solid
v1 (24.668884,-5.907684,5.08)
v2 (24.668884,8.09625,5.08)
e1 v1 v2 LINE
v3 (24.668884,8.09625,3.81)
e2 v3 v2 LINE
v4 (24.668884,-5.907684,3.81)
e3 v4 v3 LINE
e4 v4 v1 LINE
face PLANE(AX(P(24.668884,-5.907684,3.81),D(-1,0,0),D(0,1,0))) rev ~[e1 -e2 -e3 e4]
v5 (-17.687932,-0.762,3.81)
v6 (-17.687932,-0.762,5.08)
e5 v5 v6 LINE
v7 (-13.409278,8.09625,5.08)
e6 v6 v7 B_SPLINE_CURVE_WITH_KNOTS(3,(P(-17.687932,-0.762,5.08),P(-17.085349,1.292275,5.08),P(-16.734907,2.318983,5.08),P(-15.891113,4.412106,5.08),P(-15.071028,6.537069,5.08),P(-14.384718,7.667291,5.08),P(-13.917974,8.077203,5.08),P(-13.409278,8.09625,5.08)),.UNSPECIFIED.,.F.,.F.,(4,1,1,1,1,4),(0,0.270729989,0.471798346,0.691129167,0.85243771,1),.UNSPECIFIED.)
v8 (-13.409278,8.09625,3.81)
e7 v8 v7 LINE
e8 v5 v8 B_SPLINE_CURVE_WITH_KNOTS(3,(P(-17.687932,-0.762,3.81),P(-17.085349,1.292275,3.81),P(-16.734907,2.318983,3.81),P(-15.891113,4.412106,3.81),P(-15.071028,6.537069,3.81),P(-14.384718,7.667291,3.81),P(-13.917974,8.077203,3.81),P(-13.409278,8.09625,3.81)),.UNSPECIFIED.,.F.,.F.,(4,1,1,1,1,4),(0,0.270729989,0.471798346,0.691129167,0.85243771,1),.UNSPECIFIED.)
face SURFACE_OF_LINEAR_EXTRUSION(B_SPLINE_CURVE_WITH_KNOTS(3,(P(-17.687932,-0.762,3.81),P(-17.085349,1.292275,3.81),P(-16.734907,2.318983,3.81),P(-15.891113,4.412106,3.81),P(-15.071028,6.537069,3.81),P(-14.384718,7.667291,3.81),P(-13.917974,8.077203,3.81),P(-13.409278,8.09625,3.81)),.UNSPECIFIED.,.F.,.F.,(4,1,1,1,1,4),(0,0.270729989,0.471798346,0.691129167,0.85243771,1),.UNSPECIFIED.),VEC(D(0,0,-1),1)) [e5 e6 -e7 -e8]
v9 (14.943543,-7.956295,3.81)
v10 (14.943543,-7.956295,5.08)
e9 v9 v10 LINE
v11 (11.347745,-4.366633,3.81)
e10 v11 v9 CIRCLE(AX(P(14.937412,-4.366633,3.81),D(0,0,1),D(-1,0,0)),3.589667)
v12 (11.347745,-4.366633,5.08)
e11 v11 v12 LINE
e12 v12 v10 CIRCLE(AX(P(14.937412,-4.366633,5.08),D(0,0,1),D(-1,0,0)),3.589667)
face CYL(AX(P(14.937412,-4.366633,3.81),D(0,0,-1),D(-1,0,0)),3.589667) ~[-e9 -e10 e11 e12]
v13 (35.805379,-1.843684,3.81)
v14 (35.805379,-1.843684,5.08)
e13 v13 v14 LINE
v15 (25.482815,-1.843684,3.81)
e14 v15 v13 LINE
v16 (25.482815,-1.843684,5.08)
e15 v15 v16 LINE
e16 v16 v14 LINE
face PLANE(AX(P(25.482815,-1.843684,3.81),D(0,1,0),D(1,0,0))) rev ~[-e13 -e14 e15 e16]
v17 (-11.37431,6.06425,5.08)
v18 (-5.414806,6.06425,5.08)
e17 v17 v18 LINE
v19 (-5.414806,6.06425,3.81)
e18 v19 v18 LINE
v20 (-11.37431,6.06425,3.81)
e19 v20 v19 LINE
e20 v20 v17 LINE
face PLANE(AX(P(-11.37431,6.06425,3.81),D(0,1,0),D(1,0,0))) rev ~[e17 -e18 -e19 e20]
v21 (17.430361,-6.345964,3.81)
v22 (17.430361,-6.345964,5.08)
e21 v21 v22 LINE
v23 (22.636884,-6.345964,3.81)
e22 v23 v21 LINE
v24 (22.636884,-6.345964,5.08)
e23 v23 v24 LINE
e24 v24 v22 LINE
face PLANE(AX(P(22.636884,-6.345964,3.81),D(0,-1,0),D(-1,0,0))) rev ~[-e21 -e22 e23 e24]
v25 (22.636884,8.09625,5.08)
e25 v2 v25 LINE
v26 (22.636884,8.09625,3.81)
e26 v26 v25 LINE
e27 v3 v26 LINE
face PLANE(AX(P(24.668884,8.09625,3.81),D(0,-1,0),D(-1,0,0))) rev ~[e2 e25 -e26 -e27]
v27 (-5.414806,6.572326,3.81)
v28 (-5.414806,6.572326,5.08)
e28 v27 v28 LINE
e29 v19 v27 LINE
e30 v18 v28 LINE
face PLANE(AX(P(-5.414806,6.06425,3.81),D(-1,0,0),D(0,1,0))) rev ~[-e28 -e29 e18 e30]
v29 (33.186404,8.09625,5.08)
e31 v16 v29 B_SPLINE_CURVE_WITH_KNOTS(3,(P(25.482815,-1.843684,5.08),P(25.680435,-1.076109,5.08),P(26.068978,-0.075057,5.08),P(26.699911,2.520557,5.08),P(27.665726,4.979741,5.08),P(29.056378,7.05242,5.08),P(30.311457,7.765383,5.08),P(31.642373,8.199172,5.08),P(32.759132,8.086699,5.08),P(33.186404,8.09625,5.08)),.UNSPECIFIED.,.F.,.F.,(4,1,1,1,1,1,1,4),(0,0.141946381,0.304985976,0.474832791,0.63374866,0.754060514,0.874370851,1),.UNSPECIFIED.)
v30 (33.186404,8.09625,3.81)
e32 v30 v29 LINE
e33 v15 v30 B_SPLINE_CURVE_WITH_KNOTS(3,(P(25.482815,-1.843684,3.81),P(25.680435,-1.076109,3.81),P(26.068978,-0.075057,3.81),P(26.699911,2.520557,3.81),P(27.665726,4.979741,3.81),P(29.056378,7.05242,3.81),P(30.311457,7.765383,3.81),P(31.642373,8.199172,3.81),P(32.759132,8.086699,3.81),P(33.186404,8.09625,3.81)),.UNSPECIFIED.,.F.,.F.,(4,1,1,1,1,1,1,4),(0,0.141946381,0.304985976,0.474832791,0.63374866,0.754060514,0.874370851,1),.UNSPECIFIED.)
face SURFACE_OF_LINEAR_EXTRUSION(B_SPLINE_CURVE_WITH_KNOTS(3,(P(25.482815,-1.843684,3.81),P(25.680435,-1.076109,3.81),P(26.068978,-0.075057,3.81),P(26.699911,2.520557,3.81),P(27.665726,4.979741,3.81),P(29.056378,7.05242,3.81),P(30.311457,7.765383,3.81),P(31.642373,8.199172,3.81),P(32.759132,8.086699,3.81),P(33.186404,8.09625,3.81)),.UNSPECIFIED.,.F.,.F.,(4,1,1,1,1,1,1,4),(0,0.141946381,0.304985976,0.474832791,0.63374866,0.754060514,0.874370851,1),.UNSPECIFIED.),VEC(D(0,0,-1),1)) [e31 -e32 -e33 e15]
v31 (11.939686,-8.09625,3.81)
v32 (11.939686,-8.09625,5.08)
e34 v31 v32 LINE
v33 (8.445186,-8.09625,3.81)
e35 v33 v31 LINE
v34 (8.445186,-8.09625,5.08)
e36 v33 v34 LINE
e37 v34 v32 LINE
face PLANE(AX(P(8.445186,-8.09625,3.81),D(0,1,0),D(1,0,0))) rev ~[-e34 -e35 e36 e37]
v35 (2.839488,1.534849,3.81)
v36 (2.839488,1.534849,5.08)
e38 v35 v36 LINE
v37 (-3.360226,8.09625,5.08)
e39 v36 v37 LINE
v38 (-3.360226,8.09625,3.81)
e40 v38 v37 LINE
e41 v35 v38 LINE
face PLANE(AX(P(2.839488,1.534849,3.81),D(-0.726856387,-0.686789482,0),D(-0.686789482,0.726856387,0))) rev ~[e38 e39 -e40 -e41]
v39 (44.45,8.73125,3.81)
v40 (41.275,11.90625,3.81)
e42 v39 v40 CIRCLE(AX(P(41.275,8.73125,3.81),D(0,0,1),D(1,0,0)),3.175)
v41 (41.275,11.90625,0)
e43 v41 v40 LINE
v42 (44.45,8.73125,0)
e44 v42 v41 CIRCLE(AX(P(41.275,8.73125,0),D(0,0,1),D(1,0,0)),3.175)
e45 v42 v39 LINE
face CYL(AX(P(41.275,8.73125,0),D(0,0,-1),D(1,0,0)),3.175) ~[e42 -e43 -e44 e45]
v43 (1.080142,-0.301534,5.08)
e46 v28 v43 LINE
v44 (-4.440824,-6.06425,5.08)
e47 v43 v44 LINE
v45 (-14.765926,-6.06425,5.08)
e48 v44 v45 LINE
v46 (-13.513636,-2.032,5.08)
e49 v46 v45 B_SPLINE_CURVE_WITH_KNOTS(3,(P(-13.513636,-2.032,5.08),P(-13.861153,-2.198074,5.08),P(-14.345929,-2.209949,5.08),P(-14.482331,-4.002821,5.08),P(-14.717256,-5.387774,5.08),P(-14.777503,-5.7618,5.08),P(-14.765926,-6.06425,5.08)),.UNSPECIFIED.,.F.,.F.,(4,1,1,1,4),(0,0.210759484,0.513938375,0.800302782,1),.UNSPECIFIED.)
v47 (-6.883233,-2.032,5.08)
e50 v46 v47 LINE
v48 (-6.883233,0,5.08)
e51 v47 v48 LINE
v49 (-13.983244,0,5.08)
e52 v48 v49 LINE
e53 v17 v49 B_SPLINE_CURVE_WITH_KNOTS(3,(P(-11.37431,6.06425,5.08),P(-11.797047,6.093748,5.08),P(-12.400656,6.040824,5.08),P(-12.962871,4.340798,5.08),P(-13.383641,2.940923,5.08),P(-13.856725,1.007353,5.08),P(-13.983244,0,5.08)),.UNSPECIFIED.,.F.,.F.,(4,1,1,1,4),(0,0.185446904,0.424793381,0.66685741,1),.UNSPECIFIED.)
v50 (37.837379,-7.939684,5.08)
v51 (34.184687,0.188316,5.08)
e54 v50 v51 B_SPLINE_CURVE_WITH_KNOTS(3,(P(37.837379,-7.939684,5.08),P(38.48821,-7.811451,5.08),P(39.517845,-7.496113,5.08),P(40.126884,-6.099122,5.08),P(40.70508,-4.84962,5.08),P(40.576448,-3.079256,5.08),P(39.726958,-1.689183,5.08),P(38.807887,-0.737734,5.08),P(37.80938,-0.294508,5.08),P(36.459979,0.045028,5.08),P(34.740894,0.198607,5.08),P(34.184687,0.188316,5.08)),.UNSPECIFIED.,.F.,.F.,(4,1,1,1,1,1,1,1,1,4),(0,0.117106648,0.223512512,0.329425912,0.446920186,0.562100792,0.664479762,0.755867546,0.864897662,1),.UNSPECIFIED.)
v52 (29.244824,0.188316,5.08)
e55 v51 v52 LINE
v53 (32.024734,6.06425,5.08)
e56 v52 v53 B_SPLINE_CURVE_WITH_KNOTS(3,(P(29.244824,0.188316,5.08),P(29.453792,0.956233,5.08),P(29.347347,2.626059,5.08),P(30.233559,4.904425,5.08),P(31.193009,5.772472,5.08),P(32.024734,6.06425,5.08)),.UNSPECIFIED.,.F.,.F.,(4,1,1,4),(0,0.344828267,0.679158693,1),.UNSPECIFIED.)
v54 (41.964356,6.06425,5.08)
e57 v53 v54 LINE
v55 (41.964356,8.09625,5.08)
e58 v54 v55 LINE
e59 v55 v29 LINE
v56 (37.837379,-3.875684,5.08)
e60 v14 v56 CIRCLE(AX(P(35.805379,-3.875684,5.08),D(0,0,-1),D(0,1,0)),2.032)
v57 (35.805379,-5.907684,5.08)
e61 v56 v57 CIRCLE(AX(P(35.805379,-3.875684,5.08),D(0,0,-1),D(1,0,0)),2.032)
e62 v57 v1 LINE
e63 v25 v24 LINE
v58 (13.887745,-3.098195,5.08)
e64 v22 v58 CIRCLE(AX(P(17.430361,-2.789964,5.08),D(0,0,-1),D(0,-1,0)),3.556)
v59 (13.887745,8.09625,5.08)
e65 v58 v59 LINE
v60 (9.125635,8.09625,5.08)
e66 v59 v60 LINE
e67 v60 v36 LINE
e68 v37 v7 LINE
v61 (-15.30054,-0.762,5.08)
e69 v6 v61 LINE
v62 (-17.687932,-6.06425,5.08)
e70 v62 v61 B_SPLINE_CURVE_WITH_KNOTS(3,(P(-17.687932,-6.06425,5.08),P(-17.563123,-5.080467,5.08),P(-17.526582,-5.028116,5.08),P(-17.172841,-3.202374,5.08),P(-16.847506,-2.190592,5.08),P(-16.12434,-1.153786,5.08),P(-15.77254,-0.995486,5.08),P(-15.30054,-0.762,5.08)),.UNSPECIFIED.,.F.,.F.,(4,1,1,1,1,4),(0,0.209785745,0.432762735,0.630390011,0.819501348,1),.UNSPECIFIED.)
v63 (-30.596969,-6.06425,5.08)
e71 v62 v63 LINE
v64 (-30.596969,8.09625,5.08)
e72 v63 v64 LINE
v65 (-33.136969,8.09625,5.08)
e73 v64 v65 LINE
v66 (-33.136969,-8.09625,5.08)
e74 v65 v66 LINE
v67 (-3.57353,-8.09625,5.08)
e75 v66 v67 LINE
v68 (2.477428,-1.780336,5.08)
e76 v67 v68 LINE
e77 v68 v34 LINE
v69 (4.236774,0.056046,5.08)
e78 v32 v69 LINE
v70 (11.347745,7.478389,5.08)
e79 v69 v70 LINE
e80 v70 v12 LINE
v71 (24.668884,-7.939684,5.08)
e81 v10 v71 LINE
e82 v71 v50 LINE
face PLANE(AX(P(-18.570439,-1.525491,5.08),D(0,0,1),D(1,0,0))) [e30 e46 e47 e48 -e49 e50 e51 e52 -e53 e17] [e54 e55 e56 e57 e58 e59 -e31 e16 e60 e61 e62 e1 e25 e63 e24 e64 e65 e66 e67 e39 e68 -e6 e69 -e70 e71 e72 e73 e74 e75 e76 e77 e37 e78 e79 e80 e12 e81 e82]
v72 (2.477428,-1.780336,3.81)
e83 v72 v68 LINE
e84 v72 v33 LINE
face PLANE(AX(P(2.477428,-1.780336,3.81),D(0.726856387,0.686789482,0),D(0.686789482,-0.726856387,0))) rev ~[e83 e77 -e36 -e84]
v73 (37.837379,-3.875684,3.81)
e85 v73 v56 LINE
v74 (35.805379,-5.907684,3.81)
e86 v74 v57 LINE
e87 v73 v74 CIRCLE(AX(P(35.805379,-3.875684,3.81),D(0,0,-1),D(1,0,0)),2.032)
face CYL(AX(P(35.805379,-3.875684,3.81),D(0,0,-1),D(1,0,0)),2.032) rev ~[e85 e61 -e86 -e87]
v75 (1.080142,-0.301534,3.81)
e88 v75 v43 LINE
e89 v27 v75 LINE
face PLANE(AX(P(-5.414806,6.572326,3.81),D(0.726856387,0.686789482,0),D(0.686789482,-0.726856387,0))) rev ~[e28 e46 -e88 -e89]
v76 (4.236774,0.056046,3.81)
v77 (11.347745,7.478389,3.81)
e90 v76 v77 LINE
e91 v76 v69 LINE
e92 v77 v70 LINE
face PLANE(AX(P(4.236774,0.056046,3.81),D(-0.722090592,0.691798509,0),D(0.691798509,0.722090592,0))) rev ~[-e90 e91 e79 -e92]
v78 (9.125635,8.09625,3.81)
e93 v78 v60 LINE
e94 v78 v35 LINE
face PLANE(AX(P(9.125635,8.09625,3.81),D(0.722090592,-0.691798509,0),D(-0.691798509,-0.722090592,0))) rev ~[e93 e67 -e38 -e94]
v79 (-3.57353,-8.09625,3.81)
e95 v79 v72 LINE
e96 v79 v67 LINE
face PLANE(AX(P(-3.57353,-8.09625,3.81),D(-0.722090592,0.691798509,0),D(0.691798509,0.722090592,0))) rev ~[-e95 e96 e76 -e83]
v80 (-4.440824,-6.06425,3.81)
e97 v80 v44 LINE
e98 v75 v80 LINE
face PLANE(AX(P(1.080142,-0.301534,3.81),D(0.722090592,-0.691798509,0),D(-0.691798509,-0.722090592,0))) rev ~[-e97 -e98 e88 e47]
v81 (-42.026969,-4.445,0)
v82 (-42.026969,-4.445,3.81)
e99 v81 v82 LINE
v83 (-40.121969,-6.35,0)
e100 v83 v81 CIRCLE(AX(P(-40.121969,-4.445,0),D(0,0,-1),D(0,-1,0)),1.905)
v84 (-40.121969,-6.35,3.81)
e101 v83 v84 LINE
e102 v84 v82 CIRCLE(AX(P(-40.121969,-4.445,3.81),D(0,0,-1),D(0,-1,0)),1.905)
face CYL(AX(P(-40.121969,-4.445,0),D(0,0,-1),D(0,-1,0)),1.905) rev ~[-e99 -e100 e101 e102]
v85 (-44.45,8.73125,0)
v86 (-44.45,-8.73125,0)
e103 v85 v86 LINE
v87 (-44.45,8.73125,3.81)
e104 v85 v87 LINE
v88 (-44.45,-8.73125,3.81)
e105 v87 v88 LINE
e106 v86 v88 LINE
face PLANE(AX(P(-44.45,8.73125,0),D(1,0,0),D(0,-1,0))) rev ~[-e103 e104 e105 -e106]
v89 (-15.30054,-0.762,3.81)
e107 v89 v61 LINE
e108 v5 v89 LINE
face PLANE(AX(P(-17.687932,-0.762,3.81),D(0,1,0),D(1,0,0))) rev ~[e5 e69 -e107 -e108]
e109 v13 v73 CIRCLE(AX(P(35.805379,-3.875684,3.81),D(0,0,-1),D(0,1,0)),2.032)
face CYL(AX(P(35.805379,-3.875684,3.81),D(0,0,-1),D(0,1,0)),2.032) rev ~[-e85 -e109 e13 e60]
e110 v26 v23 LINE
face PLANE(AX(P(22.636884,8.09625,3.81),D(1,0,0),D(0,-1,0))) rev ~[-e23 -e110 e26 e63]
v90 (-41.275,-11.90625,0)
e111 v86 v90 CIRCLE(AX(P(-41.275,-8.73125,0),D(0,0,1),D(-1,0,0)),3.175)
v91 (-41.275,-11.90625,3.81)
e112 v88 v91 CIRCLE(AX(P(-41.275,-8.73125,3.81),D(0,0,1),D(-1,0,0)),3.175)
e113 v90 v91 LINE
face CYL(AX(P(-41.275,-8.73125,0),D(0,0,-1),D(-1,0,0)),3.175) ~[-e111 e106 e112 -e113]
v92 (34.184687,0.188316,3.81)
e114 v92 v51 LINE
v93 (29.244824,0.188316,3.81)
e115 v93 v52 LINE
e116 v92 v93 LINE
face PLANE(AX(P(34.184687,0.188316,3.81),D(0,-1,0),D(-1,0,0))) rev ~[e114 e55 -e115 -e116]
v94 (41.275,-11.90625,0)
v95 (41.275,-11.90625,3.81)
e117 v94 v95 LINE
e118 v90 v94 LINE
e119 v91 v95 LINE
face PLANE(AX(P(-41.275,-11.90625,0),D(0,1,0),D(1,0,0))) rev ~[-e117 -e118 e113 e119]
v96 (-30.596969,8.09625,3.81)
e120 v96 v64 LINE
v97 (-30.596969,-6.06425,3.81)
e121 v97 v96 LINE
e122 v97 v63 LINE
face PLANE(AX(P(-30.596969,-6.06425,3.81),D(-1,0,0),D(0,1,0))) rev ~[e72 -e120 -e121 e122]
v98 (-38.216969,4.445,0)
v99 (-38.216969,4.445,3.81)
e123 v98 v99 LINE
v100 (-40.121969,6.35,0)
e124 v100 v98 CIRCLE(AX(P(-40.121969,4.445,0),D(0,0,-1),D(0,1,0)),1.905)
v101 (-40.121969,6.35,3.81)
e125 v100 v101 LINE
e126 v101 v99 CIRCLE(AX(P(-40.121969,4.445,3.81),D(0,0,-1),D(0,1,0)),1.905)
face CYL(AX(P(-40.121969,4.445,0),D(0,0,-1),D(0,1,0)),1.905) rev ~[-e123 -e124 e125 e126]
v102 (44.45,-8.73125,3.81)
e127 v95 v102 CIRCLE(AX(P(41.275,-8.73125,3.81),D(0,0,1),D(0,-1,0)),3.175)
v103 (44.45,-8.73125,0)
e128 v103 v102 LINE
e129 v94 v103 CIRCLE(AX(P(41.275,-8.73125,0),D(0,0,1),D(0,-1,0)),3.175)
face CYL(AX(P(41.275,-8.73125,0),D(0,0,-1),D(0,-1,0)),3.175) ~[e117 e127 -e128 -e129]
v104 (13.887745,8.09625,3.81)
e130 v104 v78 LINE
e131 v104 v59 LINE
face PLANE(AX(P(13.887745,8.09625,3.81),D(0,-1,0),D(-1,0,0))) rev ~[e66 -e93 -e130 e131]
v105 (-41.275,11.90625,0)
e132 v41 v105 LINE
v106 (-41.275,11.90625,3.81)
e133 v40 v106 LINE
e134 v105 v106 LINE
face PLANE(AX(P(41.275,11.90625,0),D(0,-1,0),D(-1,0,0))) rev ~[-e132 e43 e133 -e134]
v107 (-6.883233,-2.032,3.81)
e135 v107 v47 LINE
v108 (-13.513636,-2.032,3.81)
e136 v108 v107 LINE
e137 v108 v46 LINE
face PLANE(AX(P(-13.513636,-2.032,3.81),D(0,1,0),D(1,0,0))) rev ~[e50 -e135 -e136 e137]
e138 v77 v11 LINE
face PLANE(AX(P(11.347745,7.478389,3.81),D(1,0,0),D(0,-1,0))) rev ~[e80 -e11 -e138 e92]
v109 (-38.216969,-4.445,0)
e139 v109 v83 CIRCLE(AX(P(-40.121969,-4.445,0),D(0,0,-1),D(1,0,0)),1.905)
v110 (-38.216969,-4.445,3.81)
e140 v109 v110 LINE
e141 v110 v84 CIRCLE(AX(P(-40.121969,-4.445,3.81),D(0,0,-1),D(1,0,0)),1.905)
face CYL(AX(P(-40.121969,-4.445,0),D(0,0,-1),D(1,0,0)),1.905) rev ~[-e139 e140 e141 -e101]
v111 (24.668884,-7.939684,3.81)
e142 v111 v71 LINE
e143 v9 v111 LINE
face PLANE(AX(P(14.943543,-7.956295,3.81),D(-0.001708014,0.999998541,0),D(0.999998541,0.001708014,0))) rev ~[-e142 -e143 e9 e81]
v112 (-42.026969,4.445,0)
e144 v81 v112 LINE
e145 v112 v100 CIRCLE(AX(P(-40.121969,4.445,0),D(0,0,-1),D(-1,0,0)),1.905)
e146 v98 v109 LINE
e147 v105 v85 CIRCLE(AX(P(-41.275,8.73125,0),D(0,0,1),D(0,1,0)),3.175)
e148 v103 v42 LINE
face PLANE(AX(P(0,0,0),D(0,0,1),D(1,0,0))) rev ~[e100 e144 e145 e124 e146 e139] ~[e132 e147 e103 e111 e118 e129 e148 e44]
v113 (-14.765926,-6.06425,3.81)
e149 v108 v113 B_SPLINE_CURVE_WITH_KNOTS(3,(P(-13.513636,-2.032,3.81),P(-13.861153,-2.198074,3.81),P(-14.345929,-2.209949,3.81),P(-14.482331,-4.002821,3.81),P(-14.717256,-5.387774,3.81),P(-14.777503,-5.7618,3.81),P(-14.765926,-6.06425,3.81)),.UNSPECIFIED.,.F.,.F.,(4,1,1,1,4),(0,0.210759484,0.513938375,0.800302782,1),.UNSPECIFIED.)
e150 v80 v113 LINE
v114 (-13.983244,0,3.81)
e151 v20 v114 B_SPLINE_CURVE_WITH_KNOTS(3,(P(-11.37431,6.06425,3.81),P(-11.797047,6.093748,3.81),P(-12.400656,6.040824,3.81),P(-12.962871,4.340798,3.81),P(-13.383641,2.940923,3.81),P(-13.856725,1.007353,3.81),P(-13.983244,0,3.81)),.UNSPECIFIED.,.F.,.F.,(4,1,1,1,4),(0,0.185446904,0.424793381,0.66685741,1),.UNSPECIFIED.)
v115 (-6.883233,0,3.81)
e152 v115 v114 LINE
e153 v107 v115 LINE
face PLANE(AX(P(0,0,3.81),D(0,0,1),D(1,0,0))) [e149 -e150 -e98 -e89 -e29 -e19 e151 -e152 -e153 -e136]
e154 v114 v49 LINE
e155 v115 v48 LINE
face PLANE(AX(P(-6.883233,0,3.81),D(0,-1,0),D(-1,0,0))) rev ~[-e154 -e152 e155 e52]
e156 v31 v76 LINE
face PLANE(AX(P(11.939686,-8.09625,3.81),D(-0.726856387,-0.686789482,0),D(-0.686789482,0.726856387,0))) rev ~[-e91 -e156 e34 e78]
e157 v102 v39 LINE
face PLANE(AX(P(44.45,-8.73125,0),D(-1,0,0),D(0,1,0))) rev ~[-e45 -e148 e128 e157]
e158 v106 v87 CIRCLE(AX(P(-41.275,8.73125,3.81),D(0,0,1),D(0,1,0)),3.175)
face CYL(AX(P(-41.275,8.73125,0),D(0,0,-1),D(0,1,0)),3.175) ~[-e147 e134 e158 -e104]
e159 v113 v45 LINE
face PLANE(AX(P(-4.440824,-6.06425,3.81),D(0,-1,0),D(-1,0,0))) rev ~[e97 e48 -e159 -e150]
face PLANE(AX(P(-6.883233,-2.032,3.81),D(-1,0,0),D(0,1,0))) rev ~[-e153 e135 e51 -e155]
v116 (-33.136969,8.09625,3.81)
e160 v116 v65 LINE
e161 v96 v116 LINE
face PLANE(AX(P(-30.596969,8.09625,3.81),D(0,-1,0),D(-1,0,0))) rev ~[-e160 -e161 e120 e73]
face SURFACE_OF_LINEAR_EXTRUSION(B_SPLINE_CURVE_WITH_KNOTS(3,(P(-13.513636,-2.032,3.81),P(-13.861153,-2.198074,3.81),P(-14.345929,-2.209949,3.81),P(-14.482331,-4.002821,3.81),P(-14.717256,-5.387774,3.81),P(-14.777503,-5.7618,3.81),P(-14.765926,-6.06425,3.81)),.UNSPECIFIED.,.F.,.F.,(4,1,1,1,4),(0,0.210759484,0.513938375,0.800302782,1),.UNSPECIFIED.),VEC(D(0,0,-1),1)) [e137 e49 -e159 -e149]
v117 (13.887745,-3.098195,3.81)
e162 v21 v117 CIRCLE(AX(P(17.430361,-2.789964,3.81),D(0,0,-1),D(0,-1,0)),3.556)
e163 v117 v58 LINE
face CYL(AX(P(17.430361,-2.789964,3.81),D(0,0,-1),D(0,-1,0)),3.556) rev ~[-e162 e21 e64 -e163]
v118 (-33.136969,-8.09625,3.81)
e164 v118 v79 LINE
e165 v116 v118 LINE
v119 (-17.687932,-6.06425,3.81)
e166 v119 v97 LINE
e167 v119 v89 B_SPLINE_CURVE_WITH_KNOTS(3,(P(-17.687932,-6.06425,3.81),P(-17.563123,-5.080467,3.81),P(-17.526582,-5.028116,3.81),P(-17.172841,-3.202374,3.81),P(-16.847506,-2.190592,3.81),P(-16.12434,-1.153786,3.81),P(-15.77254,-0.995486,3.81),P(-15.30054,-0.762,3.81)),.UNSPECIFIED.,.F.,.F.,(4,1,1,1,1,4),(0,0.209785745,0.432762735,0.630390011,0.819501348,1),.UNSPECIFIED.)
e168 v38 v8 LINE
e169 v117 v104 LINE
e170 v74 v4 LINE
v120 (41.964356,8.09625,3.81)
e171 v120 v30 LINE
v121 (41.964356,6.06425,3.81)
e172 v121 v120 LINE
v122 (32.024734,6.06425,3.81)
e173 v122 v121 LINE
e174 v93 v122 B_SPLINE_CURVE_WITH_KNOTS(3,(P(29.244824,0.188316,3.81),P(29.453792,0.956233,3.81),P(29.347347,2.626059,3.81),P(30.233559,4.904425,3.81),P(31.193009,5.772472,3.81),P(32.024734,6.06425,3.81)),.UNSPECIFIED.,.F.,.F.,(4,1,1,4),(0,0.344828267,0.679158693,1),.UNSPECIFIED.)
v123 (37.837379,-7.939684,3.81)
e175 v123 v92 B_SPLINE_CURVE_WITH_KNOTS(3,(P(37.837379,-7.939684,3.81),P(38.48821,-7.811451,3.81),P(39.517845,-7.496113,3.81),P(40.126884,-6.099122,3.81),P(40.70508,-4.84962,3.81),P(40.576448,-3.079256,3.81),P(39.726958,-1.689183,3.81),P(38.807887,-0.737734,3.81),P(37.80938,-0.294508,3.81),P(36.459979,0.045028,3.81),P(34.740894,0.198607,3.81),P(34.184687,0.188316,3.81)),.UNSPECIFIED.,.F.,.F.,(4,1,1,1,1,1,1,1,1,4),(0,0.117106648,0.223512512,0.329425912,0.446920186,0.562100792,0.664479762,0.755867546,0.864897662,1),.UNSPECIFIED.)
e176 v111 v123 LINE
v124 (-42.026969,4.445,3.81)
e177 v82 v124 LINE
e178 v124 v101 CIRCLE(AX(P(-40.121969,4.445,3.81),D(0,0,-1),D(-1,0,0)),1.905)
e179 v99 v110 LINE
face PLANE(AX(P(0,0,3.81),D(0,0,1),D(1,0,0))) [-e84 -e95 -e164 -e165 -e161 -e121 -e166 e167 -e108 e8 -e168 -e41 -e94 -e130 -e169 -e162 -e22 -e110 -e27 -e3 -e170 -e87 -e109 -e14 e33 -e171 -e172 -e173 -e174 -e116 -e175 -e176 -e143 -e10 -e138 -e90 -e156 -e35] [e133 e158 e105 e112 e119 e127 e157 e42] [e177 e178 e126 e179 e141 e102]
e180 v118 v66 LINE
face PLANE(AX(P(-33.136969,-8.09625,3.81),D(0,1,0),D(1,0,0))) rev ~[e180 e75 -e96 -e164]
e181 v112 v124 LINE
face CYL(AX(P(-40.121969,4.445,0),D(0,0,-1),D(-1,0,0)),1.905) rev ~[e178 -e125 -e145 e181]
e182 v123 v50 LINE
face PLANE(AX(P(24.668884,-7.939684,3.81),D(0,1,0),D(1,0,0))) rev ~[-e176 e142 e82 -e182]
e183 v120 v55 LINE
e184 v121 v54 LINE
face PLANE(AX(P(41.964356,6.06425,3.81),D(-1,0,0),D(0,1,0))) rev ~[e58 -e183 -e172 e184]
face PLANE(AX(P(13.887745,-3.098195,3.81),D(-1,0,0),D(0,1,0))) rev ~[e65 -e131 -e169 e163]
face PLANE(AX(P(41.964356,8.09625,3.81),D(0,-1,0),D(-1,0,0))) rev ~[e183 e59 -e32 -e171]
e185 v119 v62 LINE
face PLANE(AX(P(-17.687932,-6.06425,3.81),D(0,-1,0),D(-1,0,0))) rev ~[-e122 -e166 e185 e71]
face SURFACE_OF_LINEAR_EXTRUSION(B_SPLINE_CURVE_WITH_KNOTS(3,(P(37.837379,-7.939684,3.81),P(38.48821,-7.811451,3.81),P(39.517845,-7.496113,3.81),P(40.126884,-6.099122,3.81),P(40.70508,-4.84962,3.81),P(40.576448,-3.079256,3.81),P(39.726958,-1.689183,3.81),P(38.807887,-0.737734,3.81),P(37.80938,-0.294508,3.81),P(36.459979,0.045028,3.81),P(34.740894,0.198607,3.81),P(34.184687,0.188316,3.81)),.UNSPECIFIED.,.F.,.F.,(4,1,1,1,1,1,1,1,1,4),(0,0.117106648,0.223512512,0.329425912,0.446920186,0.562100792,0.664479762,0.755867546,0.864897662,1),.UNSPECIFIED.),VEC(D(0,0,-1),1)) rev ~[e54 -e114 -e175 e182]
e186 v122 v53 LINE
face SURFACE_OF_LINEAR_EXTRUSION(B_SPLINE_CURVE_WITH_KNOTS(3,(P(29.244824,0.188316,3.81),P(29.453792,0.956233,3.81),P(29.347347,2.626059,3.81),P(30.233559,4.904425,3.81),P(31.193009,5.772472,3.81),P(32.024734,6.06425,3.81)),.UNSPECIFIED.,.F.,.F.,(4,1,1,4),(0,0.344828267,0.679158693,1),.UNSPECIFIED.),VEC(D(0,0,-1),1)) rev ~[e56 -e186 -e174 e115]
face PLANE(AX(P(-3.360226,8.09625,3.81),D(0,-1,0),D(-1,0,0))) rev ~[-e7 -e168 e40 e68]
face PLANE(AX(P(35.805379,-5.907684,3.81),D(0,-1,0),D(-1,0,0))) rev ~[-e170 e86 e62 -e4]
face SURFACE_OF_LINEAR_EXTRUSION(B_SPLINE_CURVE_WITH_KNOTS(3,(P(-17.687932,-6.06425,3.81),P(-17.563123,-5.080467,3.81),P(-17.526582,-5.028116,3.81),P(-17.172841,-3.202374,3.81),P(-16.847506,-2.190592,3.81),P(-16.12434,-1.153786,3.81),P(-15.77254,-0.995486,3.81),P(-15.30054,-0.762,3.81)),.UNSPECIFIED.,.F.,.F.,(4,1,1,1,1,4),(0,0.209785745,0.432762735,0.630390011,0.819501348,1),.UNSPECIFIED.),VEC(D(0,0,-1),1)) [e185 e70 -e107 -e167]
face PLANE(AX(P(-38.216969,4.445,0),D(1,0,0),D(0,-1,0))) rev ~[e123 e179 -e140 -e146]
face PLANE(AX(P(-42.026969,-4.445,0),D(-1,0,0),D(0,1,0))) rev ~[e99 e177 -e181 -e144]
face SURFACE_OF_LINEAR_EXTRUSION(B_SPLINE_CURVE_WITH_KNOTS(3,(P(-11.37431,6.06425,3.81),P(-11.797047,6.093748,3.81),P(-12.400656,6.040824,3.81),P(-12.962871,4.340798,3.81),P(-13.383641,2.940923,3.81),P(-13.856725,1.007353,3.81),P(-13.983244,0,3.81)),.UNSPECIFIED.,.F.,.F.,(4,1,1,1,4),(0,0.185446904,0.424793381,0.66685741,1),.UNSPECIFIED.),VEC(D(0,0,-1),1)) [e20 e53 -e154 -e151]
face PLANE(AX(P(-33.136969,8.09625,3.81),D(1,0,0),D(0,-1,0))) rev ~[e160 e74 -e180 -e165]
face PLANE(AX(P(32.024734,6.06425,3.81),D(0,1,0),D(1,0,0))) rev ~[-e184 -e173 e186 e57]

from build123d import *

# Parameters (mm, degrees)
F1_DEPTH = 3.81
F3_DEPTH = 1.27


with BuildPart() as f1:
    # F0 (on Top) → F1 (new body)
    with BuildSketch(Plane.XY):
        with BuildLine():
            Line((-41.275, -11.90625), (41.275, -11.90625))
            ThreePointArc((41.275, -11.90625), (43.5200640303, -10.9763140303), (44.45, -8.73125))
            Line((44.45, -8.73125), (44.45, 8.73125))
            ThreePointArc((44.45, 8.73125), (43.5200640303, 10.9763140303), (41.275, 11.90625))
            Line((41.275, 11.90625), (-41.275, 11.90625))
            ThreePointArc((-41.275, 11.90625), (-43.5200640303, 10.9763140303), (-44.45, 8.73125))
            Line((-44.45, 8.73125), (-44.45, -8.73125))
            ThreePointArc((-44.45, -8.73125), (-43.5200640303, -10.9763140303), (-41.275, -11.90625))
        make_face()
        with BuildLine():
            Line((-38.2169688356, 4.445), (-38.2169688356, -4.445))
            ThreePointArc((-38.2169688356, -4.445), (-38.7749304174, -5.7920384182), (-40.1219688356, -6.35))
            ThreePointArc((-40.1219688356, -6.35), (-41.4690072538, -5.7920384182), (-42.0269688356, -4.445))
            Line((-42.0269688356, -4.445), (-42.0269688356, 4.445))
            ThreePointArc((-42.0269688356, 4.445), (-41.4690072538, 5.7920384182), (-40.1219688356, 6.35))
            ThreePointArc((-40.1219688356, 6.35), (-38.7749304174, 5.7920384182), (-38.2169688356, 4.445))
        make_face(mode=Mode.SUBTRACT)
    extrude(amount=F1_DEPTH)

    # F2 (on face) → F3 (join)
    with BuildSketch(Plane.XY.offset(3.81)):
        with BuildLine():
            Line((-33.1369688356, 8.09625), (-33.1369688356, -8.09625))
            Line((-33.1369688356, -8.09625), (-14.9305017963, -8.09625))
            Line((-14.9305017963, -8.09625), (-4.4408244503, -8.09625))
            Line((-4.4408244503, -8.09625), (-4.4408244503, -6.06425))
            Line((-4.4408244503, -6.06425), (-14.7659257054, -6.06425))
            add(Edge.make_bspline(
                [(-13.513635844, -2.032), (-13.8611532829, -2.1980739704), (-14.3459285269, -2.2099492601), (-14.4823312004, -4.002820532), (-14.7172564306, -5.3877740164), (-14.7775029403, -5.761799907), (-14.7659257054, -6.06425)],
                knots=[0, 0, 0, 0, 0.2107594837, 0.5139383753, 0.8003027815, 1, 1, 1, 1], degree=3))
            Line((-13.513635844, -2.032), (-6.8832325343, -2.032))
            Line((-6.8832325343, -2.032), (-6.8832325343, 0))
            Line((-6.8832325343, 0), (-13.9832440764, 0))
            add(Edge.make_bspline(
                [(-11.374309659, 6.06425), (-11.7970469078, 6.0937481421), (-12.400656261, 6.0408242331), (-12.9628712261, 4.3407982551), (-13.3836406147, 2.9409234174), (-13.8567248974, 1.0073529425), (-13.9832440764, 0)],
                knots=[0, 0, 0, 0, 0.1854469036, 0.4247933811, 0.6668574102, 1, 1, 1, 1], degree=3))
            Line((-11.374309659, 6.06425), (-5.4148057359, 6.06425))
            Line((-5.4148057359, 6.06425), (-5.4148057359, 6.5723256238))
            Line((-5.4148057359, 6.5723256238), (-5.4148057359, 8.09625))
            Line((-5.4148057359, 8.09625), (-13.4092783555, 8.09625))
            add(Edge.make_bspline(
                [(-17.6879316568, -0.762), (-17.0853493776, 1.2922751779), (-16.7349072936, 2.3189827137), (-15.8911126674, 4.4121063422), (-15.0710282171, 6.5370694937), (-14.3847178975, 7.6672909404), (-13.9179741964, 8.0772032961), (-13.4092783555, 8.09625)],
                knots=[0, 0, 0, 0, 0.2707299894, 0.4717983457, 0.6911291675, 0.8524377102, 1, 1, 1, 1], degree=3))
            Line((-17.6879316568, -0.762), (-15.3005402535, -0.762))
            add(Edge.make_bspline(
                [(-17.6879316568, -6.06425), (-17.5631227568, -5.0804670724), (-17.5265823635, -5.0281161064), (-17.1728408985, -3.2023736826), (-16.8475061728, -2.1905918672), (-16.1243397189, -1.1537855527), (-15.7725399015, -0.9954859224), (-15.3005402535, -0.762)],
                knots=[0, 0, 0, 0, 0.2097857454, 0.4327627354, 0.6303900109, 0.8195013475, 1, 1, 1, 1], degree=3))
            Line((-17.6879316568, -6.06425), (-30.5969688356, -6.06425))
            Line((-30.5969688356, -6.06425), (-30.5969688356, 8.09625))
            Line((-30.5969688356, 8.09625), (-33.1369688356, 8.09625))
        make_face()
        Polygon((-4.4408244503, -6.06425), (-4.4408244503, -8.09625), (-3.57352963, -8.09625), (2.4774279686, -1.7803364764), (1.0801424445, -0.3015341148), align=None)
        Polygon((2.8394880429, 1.5348487183), (1.0801424445, -0.3015341148), (2.4774279686, -1.7803364764), (4.2367735671, 0.0560463568), align=None)
        Polygon((-5.4148057359, 6.5723256238), (1.0801424445, -0.3015341148), (2.8394880429, 1.5348487183), (-3.3602255002, 8.09625), (-5.4148057359, 8.09625), align=None)
        Polygon((4.2367735671, 0.0560463568), (2.4774279686, -1.7803364764), (8.4451859107, -8.09625), (11.9396863995, -8.09625), align=None)
        Polygon((9.1256350578, 8.09625), (2.8394880429, 1.5348487183), (4.2367735671, 0.0560463568), (11.3477446789, 7.4783886686), (11.9396863995, 8.09625), align=None)
        with BuildLine():
            Line((11.9396863995, 8.09625), (11.3477446789, 7.4783886686))
            Line((11.3477446789, 7.4783886686), (11.3477446789, -4.3666326941))
            ThreePointArc((11.3477446789, -4.3666326941), (12.4013025669, -6.9070776733), (14.9435433322, -7.9562949086))
            Line((14.9435433322, -7.9562949086), (24.6688841279, -7.9396838649))
            Line((24.6688841279, -7.9396838649), (24.6688841279, -5.9076838649))
            Line((24.6688841279, -5.9076838649), (24.6688841279, 8.09625))
            Line((24.6688841279, 8.09625), (22.6368841279, 8.09625))
            Line((22.6368841279, 8.09625), (22.6368841279, -6.3459635714))
            Line((22.6368841279, -6.3459635714), (17.4303608148, -6.3459635714))
            ThreePointArc((17.4303608148, -6.3459635714), (15.0273352941, -5.4111473397), (13.8877446789, -3.0981954877))
            Line((13.8877446789, -3.0981954877), (13.8877446789, 8.09625))
            Line((13.8877446789, 8.09625), (11.9396863995, 8.09625))
        make_face()
        with BuildLine():
            Line((24.6688841279, -5.9076838649), (24.6688841279, -7.9396838649))
            Line((24.6688841279, -7.9396838649), (37.8373786807, -7.9396838649))
            add(Edge.make_bspline(
                [(37.8373786807, -7.9396838649), (38.4882097852, -7.8114506673), (39.5178452641, -7.496112843), (40.126883642, -6.0991216047), (40.7050802618, -4.8496198201), (40.5764483682, -3.0792560488), (39.7269584552, -1.6891831447), (38.8078867235, -0.737734011), (37.8093798081, -0.2945075978), (36.4599787891, 0.0450284712), (34.7408936011, 0.1986066109), (34.1846869754, 0.1883161351)],
                knots=[0, 0, 0, 0, 0.1171066483, 0.2235125119, 0.3294259119, 0.4469201861, 0.5621007917, 0.6644797625, 0.7558675462, 0.8648976622, 1, 1, 1, 1], degree=3))
            Line((34.1846869754, 0.1883161351), (29.2448235171, 0.1883161351))
            add(Edge.make_bspline(
                [(29.2448235171, 0.1883161351), (29.4537920477, 0.9562330478), (29.3473473778, 2.6260589886), (30.233558549, 4.9044254628), (31.1930093172, 5.7724721465), (32.0247337222, 6.06425)],
                knots=[0, 0, 0, 0, 0.3448282666, 0.6791586925, 1, 1, 1, 1], degree=3))
            Line((32.0247337222, 6.06425), (41.9643558562, 6.06425))
            Line((41.9643558562, 6.06425), (41.9643558562, 8.09625))
            Line((41.9643558562, 8.09625), (33.1864038537, 8.09625))
            add(Edge.make_bspline(
                [(25.4828148948, -1.8436838649), (25.680435092, -1.0761085159), (26.0689778517, -0.0750567317), (26.6999114572, 2.5205566329), (27.6657264028, 4.9797411998), (29.0563776932, 7.0524197018), (30.311457036, 7.7653827779), (31.6423733416, 8.1991717396), (32.7591321523, 8.0866993991), (33.1864038537, 8.09625)],
                knots=[0, 0, 0, 0, 0.1419463815, 0.3049859755, 0.4748327911, 0.63374866, 0.7540605138, 0.8743708506, 1, 1, 1, 1], degree=3))
            Line((25.4828148948, -1.8436838649), (35.8053786807, -1.8436838649))
            ThreePointArc((35.8053786807, -1.8436838649), (37.2422196601, -2.4388428856), (37.8373786807, -3.8756838649))
            ThreePointArc((37.8373786807, -3.8756838649), (37.2422196601, -5.3125248443), (35.8053786807, -5.9076838649))
            Line((35.8053786807, -5.9076838649), (24.6688841279, -5.9076838649))
        make_face()
    extrude(amount=F3_DEPTH)


solid = f1.part
